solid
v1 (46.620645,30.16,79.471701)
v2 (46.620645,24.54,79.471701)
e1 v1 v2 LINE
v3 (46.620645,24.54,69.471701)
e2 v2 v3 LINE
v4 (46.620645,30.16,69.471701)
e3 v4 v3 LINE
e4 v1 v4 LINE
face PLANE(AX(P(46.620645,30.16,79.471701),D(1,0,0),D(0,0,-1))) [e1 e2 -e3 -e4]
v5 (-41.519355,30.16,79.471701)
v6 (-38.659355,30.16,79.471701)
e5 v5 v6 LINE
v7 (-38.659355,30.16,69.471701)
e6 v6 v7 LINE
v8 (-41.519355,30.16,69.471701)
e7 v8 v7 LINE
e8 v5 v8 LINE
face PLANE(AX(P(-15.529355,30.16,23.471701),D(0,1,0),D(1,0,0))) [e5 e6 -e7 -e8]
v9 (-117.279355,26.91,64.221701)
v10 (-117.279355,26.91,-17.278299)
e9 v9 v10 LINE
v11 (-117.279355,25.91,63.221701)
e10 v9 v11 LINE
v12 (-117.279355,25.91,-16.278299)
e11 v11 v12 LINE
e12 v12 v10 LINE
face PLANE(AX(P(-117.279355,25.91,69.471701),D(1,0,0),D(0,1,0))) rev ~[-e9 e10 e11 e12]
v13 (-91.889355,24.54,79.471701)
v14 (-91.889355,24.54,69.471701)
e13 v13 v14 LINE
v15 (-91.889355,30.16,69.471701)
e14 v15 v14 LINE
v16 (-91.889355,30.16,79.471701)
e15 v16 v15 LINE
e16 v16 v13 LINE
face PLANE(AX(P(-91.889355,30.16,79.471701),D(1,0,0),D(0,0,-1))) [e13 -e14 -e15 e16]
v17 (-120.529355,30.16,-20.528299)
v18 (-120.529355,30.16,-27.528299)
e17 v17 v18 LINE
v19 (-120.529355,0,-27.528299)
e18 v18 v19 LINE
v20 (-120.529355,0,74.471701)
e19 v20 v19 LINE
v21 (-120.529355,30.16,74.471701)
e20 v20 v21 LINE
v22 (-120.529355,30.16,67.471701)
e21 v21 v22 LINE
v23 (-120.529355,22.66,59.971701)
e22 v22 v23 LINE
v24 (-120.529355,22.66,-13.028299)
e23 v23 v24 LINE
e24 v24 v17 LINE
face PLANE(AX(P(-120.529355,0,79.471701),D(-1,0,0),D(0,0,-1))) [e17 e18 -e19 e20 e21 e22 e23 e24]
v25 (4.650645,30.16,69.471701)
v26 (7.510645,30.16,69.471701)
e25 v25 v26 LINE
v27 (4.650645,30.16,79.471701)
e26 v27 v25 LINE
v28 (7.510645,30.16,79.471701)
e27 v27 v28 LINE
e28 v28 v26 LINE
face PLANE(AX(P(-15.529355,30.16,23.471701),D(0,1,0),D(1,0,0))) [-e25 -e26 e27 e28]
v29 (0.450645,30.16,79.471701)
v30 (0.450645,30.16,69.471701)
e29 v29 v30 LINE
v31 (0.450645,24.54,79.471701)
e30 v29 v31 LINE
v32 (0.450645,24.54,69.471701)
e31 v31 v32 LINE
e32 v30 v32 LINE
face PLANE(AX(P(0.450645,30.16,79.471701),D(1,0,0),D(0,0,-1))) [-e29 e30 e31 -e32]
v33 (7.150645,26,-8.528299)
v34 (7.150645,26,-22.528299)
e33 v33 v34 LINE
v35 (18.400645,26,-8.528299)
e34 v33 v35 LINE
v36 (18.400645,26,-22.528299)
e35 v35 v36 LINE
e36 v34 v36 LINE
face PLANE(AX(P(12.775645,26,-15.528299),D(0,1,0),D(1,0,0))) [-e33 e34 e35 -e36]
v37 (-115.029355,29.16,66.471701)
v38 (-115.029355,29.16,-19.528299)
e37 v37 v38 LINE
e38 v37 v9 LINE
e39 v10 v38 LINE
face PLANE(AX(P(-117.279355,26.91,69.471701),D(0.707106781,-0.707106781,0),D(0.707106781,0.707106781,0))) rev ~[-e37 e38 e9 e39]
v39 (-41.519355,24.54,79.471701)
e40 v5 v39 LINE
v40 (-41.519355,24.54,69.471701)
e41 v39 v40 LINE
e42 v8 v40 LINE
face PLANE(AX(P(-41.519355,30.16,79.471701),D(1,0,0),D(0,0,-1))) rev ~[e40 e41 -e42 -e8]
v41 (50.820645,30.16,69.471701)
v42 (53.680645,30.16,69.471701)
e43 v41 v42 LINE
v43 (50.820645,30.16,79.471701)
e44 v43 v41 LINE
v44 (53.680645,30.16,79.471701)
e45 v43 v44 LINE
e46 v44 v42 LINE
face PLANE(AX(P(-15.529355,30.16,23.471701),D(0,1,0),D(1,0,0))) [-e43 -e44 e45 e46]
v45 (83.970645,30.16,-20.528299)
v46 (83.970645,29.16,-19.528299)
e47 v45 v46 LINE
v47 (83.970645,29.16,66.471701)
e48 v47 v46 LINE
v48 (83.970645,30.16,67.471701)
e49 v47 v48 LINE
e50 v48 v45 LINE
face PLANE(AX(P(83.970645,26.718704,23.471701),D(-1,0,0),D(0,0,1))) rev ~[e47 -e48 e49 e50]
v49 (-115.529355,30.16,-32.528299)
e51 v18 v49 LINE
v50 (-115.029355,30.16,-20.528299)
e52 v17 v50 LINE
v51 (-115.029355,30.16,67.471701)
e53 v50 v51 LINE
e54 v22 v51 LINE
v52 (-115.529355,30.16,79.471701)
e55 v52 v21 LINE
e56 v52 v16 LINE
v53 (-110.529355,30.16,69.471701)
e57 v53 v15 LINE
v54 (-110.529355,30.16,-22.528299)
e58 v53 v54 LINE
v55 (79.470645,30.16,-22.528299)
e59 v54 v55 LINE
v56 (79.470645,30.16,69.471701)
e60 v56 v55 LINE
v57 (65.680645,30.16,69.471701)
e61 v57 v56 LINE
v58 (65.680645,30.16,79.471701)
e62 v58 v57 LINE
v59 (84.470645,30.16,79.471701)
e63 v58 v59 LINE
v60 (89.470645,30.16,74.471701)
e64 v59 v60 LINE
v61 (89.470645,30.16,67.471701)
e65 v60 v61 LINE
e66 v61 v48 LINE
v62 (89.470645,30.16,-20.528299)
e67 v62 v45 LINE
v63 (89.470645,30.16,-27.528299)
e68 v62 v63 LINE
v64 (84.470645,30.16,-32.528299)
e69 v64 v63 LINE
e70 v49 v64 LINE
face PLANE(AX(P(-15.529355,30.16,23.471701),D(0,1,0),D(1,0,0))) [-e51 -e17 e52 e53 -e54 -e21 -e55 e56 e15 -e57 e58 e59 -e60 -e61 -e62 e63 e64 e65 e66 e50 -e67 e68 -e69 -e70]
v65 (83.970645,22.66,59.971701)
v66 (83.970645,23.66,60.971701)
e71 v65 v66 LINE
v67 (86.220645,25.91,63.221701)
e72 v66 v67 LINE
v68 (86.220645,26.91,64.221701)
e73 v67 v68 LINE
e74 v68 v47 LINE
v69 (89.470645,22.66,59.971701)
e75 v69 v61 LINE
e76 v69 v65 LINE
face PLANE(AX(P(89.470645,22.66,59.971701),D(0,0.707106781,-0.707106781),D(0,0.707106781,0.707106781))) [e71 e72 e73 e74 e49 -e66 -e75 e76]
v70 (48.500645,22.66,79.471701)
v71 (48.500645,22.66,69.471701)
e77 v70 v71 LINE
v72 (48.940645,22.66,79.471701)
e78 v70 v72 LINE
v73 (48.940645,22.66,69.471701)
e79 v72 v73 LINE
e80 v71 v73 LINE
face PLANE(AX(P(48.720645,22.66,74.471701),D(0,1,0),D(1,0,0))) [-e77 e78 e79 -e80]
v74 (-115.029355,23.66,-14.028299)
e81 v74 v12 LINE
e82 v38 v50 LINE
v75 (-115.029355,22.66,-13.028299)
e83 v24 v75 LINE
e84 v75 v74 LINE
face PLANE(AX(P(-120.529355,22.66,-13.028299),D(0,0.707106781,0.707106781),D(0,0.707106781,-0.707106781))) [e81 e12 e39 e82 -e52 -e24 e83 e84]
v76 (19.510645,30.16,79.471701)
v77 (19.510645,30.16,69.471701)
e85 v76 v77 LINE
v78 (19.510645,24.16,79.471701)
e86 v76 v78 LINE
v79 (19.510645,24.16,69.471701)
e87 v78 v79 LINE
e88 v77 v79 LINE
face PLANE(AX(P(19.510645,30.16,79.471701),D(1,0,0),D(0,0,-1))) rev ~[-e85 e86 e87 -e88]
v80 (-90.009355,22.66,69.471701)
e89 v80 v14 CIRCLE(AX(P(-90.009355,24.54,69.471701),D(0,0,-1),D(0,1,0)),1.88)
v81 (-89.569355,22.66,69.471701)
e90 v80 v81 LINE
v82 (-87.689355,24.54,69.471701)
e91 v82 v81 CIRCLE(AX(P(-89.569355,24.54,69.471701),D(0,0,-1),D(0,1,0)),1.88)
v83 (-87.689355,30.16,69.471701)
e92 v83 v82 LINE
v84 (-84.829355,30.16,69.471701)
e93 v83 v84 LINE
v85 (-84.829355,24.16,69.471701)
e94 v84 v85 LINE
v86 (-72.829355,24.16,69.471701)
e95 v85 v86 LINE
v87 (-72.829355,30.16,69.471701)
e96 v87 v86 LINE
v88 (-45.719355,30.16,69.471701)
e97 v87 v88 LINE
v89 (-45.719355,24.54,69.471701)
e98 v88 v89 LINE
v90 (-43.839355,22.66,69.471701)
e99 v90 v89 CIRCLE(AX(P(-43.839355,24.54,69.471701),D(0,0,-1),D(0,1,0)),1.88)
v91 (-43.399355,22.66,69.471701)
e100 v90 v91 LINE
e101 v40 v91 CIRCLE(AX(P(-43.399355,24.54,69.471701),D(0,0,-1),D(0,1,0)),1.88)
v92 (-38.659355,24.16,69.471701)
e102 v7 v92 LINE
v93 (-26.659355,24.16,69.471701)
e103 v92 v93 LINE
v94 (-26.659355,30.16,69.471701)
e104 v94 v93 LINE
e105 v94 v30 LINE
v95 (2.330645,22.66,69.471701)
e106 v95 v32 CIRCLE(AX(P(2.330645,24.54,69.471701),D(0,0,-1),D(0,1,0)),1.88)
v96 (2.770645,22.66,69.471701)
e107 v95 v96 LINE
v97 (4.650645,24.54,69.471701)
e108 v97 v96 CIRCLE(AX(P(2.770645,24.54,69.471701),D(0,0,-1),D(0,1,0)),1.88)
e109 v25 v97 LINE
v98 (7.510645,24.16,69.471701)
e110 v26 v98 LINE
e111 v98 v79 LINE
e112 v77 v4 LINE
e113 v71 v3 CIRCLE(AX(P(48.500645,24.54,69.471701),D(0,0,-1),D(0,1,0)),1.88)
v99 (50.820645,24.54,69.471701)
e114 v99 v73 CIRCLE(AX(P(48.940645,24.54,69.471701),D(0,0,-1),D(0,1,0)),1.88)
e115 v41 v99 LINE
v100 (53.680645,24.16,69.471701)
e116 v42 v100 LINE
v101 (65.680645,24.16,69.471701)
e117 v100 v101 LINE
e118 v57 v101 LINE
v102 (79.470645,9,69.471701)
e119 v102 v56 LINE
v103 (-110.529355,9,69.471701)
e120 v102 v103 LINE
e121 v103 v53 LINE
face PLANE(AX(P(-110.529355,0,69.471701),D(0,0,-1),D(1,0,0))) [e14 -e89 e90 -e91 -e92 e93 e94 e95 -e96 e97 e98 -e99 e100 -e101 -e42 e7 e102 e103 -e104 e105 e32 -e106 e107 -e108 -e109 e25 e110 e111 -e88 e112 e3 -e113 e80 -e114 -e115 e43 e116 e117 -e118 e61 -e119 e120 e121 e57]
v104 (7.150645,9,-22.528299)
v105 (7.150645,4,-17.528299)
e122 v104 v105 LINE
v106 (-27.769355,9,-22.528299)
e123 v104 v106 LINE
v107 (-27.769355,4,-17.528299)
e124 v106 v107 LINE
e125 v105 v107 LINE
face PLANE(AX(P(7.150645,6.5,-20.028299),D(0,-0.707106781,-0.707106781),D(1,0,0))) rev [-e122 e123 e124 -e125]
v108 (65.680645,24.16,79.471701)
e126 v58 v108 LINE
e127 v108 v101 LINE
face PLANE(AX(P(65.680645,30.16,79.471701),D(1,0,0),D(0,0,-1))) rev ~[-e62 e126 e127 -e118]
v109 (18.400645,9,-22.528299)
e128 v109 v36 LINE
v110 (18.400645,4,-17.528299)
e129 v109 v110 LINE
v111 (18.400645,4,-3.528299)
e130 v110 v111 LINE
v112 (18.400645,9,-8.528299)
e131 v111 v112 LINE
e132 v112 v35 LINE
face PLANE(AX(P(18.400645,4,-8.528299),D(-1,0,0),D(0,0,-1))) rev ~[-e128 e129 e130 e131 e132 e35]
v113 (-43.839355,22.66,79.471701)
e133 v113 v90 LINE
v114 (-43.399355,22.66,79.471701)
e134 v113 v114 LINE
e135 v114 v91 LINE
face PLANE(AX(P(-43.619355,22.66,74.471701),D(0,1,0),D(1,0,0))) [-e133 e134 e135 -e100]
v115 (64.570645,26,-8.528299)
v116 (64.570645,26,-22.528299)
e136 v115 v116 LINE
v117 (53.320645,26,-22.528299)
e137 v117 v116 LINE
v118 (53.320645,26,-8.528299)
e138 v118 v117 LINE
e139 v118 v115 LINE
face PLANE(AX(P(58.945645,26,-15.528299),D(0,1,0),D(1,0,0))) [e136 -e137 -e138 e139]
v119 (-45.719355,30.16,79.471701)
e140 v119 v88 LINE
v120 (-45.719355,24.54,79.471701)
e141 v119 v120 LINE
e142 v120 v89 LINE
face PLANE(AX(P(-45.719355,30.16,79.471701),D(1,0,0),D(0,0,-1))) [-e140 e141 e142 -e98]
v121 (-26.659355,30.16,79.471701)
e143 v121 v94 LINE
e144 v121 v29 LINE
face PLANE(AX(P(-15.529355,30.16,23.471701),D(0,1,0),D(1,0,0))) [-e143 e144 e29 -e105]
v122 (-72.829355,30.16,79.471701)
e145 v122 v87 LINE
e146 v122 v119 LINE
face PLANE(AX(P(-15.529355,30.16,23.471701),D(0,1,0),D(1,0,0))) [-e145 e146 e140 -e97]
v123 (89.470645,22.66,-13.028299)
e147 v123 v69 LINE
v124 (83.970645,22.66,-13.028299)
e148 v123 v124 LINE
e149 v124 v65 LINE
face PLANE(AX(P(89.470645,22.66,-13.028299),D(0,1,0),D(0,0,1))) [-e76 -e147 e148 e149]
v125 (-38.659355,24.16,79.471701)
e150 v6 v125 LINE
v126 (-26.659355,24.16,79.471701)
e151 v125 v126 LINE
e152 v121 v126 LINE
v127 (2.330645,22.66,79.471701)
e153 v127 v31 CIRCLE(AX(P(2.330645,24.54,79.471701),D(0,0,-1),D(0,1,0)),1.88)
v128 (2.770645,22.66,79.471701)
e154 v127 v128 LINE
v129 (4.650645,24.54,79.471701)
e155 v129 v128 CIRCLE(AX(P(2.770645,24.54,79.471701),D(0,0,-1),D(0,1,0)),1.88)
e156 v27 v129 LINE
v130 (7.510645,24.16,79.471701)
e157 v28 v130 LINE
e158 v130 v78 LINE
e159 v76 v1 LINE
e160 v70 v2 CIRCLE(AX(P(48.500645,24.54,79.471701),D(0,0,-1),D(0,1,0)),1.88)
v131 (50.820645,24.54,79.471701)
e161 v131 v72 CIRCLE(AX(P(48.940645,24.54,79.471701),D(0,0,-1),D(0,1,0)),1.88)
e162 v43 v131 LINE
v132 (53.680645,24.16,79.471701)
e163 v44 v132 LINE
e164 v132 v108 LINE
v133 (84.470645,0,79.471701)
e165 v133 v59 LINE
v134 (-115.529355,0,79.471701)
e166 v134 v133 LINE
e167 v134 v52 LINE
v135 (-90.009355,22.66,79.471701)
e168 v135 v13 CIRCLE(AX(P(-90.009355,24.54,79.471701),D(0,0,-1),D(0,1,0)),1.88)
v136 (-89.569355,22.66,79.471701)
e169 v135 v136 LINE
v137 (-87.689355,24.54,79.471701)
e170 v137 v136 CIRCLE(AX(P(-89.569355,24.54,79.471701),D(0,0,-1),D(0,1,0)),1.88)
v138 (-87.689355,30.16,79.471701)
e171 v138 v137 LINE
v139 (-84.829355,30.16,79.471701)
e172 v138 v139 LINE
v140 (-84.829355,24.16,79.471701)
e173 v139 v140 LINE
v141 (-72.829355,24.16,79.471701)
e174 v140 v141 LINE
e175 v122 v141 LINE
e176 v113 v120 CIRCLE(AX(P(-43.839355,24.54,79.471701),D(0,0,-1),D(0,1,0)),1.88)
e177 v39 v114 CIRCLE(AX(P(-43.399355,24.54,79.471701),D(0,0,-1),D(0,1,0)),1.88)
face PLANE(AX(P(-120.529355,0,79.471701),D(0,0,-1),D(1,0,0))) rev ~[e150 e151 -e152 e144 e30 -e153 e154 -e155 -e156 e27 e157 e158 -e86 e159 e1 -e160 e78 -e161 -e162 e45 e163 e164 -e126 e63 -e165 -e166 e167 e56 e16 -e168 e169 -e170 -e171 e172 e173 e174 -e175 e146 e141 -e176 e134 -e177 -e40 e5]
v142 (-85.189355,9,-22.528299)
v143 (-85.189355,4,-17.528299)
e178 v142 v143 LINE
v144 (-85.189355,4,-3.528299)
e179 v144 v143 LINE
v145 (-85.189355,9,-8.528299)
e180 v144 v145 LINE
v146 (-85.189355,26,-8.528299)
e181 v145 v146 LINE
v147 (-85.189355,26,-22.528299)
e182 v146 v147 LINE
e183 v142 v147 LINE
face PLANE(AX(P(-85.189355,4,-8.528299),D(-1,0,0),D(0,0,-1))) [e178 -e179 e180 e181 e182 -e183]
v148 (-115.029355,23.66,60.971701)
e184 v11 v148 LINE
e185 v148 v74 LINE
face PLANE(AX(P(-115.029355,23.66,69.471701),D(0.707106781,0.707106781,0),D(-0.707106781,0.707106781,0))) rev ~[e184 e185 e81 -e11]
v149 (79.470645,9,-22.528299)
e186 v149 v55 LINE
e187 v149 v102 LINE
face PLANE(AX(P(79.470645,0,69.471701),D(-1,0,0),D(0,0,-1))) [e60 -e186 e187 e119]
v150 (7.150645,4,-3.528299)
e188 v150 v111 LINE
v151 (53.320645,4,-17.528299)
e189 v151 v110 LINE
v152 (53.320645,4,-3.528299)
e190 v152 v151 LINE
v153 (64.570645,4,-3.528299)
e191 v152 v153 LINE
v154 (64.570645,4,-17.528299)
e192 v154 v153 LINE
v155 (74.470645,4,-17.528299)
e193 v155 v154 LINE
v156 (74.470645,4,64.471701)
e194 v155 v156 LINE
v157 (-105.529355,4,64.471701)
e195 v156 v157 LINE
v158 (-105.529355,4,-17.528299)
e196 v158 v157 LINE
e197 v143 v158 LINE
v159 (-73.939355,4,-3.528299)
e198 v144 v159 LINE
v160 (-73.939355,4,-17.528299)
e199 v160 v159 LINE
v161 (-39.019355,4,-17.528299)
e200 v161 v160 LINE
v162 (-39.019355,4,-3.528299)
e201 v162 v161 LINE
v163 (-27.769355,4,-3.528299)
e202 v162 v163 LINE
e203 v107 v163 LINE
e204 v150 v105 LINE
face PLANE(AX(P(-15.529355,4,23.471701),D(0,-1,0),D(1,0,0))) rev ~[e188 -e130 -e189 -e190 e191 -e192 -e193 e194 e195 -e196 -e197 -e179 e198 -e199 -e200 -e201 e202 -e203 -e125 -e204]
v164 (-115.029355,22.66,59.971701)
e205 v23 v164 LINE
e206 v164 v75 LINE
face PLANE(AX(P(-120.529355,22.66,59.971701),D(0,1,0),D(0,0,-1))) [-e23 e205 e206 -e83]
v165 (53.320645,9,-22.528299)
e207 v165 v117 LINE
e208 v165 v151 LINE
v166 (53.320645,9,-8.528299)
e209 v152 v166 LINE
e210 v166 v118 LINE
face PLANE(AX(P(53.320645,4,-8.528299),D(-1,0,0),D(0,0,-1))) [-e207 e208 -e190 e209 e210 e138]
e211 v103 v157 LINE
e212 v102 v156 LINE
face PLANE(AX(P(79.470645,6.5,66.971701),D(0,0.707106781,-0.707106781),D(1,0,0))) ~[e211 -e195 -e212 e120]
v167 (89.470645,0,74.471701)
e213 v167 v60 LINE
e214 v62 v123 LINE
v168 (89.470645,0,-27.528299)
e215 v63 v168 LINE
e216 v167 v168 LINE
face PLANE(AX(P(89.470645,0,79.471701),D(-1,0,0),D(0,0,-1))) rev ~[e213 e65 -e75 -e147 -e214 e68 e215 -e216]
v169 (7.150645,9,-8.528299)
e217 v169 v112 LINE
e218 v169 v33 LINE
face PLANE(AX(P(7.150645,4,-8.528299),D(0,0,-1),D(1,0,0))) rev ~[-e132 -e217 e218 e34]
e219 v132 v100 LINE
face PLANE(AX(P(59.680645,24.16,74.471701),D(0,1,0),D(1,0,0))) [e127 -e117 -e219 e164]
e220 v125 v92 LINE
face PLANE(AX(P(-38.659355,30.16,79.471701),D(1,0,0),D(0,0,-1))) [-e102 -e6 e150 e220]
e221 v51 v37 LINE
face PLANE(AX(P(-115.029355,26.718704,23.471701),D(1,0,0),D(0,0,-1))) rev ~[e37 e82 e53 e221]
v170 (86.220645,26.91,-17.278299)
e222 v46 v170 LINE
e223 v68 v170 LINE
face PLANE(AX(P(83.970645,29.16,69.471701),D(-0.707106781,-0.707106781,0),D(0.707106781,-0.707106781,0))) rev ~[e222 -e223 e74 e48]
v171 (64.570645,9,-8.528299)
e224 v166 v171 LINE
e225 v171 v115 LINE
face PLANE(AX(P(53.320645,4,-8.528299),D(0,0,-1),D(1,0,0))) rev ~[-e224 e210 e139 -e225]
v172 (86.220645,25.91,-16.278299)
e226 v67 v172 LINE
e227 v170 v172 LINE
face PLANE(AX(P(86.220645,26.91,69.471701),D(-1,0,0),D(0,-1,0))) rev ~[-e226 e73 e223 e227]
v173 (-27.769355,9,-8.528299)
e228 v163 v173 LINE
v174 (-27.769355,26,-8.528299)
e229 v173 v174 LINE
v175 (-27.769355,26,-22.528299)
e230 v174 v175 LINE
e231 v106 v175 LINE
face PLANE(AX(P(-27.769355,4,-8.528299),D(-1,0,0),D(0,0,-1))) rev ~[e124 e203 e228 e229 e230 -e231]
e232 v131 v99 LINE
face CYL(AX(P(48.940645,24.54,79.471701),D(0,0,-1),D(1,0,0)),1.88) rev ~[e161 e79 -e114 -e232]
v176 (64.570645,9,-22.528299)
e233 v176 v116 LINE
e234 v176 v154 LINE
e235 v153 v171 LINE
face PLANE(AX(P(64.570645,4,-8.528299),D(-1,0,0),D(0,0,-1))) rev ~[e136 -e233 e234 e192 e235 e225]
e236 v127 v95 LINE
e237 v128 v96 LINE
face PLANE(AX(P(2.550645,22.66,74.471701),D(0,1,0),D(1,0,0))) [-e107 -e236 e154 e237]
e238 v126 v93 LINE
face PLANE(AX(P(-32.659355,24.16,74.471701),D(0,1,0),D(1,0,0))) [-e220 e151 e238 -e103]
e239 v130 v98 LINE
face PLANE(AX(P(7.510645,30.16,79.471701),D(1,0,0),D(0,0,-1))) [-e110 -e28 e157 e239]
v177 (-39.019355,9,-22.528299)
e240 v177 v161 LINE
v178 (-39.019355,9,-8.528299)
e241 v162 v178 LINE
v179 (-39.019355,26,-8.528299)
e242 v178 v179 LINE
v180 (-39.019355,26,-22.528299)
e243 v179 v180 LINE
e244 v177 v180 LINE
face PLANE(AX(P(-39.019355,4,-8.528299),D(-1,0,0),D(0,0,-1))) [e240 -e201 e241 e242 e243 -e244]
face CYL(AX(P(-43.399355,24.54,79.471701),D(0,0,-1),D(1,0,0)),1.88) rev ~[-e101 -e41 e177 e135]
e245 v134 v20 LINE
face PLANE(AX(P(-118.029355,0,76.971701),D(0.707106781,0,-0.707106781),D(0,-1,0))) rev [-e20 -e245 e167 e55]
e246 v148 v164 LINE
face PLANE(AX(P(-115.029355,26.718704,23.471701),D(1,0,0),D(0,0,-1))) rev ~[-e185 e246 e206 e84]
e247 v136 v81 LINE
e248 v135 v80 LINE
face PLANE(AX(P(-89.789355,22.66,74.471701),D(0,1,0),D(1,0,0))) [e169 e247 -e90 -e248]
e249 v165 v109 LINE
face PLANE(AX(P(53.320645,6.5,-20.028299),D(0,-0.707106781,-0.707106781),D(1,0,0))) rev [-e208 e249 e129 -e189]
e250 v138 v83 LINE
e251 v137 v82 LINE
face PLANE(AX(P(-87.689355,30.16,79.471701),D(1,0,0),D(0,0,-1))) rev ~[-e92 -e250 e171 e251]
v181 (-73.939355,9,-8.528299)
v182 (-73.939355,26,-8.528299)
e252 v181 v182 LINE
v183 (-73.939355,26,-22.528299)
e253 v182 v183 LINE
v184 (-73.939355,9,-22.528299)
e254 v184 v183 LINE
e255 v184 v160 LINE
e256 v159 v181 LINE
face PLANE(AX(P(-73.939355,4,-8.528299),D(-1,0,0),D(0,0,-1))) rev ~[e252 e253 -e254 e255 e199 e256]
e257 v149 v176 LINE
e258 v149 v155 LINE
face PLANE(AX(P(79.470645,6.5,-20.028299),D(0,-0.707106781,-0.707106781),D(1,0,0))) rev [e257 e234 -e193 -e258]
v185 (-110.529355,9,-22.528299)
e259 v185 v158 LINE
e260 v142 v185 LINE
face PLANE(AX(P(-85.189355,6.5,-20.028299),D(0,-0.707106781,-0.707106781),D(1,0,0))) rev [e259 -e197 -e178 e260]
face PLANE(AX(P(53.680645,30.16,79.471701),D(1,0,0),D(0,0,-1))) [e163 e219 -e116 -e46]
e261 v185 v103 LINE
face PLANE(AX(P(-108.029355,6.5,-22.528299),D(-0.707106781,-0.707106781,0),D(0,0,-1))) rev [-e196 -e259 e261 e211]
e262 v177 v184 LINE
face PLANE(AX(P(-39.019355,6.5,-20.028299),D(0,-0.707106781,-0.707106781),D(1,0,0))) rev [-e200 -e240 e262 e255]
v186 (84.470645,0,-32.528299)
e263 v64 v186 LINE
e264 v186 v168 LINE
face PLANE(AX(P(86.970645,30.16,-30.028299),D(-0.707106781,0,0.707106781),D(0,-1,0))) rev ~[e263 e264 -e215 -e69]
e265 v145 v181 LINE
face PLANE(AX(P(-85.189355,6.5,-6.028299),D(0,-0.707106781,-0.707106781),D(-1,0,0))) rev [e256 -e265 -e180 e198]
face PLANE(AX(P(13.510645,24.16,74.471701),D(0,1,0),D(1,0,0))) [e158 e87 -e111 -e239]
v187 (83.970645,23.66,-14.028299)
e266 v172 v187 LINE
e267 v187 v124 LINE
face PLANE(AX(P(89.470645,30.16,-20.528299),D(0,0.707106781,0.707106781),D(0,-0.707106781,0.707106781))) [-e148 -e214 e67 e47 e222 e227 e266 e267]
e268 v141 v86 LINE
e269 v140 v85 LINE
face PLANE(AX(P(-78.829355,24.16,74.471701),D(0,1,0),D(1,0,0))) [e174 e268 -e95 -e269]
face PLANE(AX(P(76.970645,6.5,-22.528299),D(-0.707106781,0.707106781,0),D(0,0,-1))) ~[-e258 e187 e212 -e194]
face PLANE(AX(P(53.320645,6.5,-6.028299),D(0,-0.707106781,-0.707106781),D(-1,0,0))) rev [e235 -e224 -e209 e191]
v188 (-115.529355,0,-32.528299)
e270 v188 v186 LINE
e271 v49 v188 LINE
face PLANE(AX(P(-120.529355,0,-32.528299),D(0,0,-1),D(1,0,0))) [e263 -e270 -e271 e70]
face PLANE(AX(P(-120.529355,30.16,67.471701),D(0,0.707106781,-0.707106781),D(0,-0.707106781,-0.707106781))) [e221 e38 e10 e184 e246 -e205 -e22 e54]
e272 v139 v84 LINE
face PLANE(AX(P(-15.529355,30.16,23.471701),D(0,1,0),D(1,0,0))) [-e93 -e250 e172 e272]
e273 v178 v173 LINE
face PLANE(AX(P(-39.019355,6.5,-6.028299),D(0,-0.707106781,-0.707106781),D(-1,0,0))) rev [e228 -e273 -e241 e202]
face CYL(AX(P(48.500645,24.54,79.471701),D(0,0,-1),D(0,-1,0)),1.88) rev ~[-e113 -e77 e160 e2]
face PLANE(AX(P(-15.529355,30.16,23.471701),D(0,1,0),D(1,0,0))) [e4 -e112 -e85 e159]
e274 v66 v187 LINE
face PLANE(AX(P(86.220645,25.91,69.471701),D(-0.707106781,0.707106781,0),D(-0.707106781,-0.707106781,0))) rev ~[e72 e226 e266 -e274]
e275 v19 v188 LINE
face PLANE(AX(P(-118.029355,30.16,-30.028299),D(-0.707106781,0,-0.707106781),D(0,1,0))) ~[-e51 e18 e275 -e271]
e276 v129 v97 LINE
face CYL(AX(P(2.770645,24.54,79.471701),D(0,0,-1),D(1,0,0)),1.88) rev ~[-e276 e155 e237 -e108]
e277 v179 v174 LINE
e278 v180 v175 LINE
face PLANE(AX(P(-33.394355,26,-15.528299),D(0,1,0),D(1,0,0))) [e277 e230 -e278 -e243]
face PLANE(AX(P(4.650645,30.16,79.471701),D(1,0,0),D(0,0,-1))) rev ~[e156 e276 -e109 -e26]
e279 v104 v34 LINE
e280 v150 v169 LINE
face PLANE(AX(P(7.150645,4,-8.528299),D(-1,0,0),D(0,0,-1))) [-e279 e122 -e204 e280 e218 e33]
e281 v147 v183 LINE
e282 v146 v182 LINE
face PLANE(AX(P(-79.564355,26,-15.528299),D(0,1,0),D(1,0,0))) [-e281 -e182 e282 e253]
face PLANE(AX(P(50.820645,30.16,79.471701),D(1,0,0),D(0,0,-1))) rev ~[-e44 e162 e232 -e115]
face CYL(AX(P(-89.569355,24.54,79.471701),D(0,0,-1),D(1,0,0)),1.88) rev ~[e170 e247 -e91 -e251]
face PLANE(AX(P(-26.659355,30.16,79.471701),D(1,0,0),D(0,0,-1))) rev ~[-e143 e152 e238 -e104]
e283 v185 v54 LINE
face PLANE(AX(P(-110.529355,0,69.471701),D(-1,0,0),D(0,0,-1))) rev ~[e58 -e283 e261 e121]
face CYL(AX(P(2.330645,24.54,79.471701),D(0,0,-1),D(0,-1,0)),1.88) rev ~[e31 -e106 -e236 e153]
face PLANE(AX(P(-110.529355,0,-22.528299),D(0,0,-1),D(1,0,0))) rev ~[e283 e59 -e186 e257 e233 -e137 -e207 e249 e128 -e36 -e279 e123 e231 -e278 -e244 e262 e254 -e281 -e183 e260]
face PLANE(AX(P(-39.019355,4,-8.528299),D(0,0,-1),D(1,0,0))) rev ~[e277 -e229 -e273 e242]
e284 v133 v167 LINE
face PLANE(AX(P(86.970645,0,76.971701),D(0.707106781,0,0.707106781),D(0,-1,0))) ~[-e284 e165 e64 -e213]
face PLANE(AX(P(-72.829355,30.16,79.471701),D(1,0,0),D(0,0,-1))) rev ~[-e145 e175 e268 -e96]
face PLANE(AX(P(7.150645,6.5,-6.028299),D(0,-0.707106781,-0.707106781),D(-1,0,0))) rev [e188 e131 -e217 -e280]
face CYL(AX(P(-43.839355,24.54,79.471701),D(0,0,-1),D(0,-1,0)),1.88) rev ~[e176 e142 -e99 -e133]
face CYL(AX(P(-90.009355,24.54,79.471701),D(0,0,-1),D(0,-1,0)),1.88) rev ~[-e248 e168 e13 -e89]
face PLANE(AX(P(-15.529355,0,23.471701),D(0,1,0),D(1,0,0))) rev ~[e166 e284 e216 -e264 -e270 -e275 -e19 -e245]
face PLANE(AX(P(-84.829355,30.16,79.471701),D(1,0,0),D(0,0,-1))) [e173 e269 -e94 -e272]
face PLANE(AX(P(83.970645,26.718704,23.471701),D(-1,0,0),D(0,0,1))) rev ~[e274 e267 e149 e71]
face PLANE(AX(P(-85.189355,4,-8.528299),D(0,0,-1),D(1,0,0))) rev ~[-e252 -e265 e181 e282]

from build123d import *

# Parameters (mm, degrees)
SKETCH2_W           = 210
SKETCH2_H           = 112
SKETCH2_W_2         = 190
SKETCH2_H_2         = 92
BOSS_EXTRUDE1_DEPTH = 30.16
SKETCH3_W           = 210
SKETCH3_H           = 112
BOSS_EXTRUDE2_DEPTH = 4
SKETCH4_W           = 11.25
SKETCH4_H           = 13.999999996
BOSS_EXTRUDE3_DEPTH = 22
SKETCH5_W           = 12
SKETCH5_H           = 10
CUT_EXTRUDE1_DEPTH  = 6
CHAMFER2_SIZE       = 5
CUT_EXTRUDE2_DEPTH  = 5.5
CUT_EXTRUDE3_DEPTH  = 5.5
SKETCH9_W           = 4.2
SKETCH9_H           = 10
CUT_EXTRUDE4_DEPTH  = 7.5
FILLET1_R           = 1.88
CHAMFER3_SIZE       = 5
CHAMFER4_SIZE       = 5
BOSS_EXTRUDE4_START = -10
BOSS_EXTRUDE4_DEPTH = 90


with BuildPart() as part:
    # Sketch2 → Boss-Extrude1 (new body)
    with BuildSketch(Plane(origin=(0, 0, 0), x_dir=(1, 0, 0), z_dir=(0, 1, 0))):
        with Locations((-15.529354961, -23.471700962)):
            Rectangle(SKETCH2_W, SKETCH2_H)
        with Locations((-15.529354961, -23.471700962)):
            Rectangle(SKETCH2_W_2, SKETCH2_H_2, mode=Mode.SUBTRACT)
    extrude(amount=BOSS_EXTRUDE1_DEPTH)



with BuildPart() as body_2:
    # Sketch3 → Boss-Extrude2 (new body)
    with BuildSketch(Plane.XZ):
        with Locations((-15.529354961, 23.471700962)):
            Rectangle(SKETCH3_W, SKETCH3_H)
    extrude(amount=-BOSS_EXTRUDE2_DEPTH)


with BuildPart() as part_1:
    add(part.part)

    add(body_2.part)  # Boss-Extrude3 merges body 2
    # Sketch4 → Boss-Extrude3 (add)
    with BuildSketch(Plane(origin=(0, 4, 0), x_dir=(1, 0, 0), z_dir=(0, 1, 0))):
        with Locations((-79.564354961, 15.52829904)):
            Rectangle(SKETCH4_W, SKETCH4_H)
        with Locations((-33.394354961, 15.52829904)):
            Rectangle(SKETCH4_W, SKETCH4_H)
        with Locations((12.775645039, 15.52829904)):
            Rectangle(SKETCH4_W, SKETCH4_H)
        with Locations((58.945645039, 15.52829904)):
            Rectangle(SKETCH4_W, SKETCH4_H)
    extrude(amount=BOSS_EXTRUDE3_DEPTH)

    # Sketch5 → Cut-Extrude1 (cut)
    with BuildSketch(Plane(origin=(0, 30.16, 0), x_dir=(1, 0, 0), z_dir=(0, 1, 0))):
        with Locations((-78.829354961, -74.471700962)):
            Rectangle(SKETCH5_W, SKETCH5_H)
        with Locations((-32.659354961, -74.471700962)):
            Rectangle(SKETCH5_W, SKETCH5_H)
        with Locations((13.510645039, -74.471700962)):
            Rectangle(SKETCH5_W, SKETCH5_H)
        with Locations((59.680645039, -74.471700962)):
            Rectangle(SKETCH5_W, SKETCH5_H)
    extrude(amount=-CUT_EXTRUDE1_DEPTH, mode=Mode.SUBTRACT)

    # Chamfer2
    chamfer2_edges = [part_1.edges().sort_by_distance(p)[0] for p in [
        (-110.529354961, 4, 23.471700962),
        (-97.859354961, 4, -22.528299038),
        (-56.479354961, 4, -22.528299038),
        (79.470645039, 4, 23.471700962),
        (-15.529354961, 4, 69.471700962),
        (-10.309354961, 4, -22.528299038),
        (35.860645039, 4, -22.528299038),
        (72.020645039, 4, -22.528299038),
    ]]
    chamfer(chamfer2_edges, length=CHAMFER2_SIZE)

    # Sketch6 → Cut-Extrude2 (cut)
    with BuildSketch(Plane.ZY.offset(120.529354961)):
        Polygon((-20.528299038, 30.16), (67.471700962, 30.16), (59.971700962, 22.66), (-13.028299038, 22.66), align=None)
    extrude(amount=-CUT_EXTRUDE2_DEPTH, mode=Mode.SUBTRACT)

    # Sketch8 → Cut-Extrude3 (cut)
    with BuildSketch(Plane(origin=(89.470645039, 0, 0), x_dir=(0, 0, -1), z_dir=(1, 0, 0))):
        Polygon((20.528299038, 30.16), (13.028299038, 22.66), (-59.971700962, 22.66), (-67.471700962, 30.16), align=None)
    extrude(amount=-CUT_EXTRUDE3_DEPTH, mode=Mode.SUBTRACT)

    # Sketch9 → Cut-Extrude4 (cut)
    with BuildSketch(Plane(origin=(0, 30.16, 0), x_dir=(1, 0, 0), z_dir=(0, 1, 0))):
        with Locations((-89.789354961, -74.471700962)):
            Rectangle(SKETCH9_W, SKETCH9_H)
        with Locations((48.720645039, -74.471700962)):
            Rectangle(SKETCH9_W, SKETCH9_H)
        with Locations((2.550645039, -74.471700962)):
            Rectangle(SKETCH9_W, SKETCH9_H)
        with Locations((-43.619354961, -74.471700962)):
            Rectangle(SKETCH9_W, SKETCH9_H)
    extrude(amount=-CUT_EXTRUDE4_DEPTH, mode=Mode.SUBTRACT)

    # Fillet1
    fillet1_edges = [part_1.edges().sort_by_distance(p)[0] for p in [
        (-87.689354961, 22.66, 74.471700962),
        (-91.889354961, 22.66, 74.471700962),
        (50.820645039, 22.66, 74.471700962),
        (46.620645039, 22.66, 74.471700962),
        (4.650645039, 22.66, 74.471700962),
        (0.450645039, 22.66, 74.471700962),
        (-41.519354961, 22.66, 74.471700962),
        (-45.719354961, 22.66, 74.471700962),
    ]]
    fillet(fillet1_edges, radius=FILLET1_R)

    # Chamfer3
    chamfer3_edges = [part_1.edges().sort_by_distance(p)[0] for p in [
        (-79.564354961, 4, -8.528299042),
        (-33.394354961, 4, -8.528299042),
        (12.775645039, 4, -8.528299042),
        (58.945645039, 4, -8.528299042),
    ]]
    chamfer(chamfer3_edges, length=CHAMFER3_SIZE)

    # Chamfer4
    chamfer4_edges = [part_1.edges().sort_by_distance(p)[0] for p in [
        (89.470645039, 15.08, 79.471700962),
        (-120.529354961, 15.08, 79.471700962),
        (-120.529354961, 15.08, -32.528299038),
        (89.470645039, 15.08, -32.528299038),
    ]]
    chamfer(chamfer4_edges, length=CHAMFER4_SIZE)

    # Sketch10 → Boss-Extrude4 (add)
    with BuildSketch(Plane.XY.offset(79.471700962).offset(BOSS_EXTRUDE4_START)):
        Polygon((83.970645039, 29.16), (86.220645039, 26.91), (86.220645039, 25.91), (83.970645039, 23.66), align=None)
        Polygon((-115.029354961, 29.16), (-115.029354961, 23.66), (-117.279354961, 25.91), (-117.279354961, 26.91), align=None)
    extrude(amount=-BOSS_EXTRUDE4_DEPTH)


solid = part_1.part
